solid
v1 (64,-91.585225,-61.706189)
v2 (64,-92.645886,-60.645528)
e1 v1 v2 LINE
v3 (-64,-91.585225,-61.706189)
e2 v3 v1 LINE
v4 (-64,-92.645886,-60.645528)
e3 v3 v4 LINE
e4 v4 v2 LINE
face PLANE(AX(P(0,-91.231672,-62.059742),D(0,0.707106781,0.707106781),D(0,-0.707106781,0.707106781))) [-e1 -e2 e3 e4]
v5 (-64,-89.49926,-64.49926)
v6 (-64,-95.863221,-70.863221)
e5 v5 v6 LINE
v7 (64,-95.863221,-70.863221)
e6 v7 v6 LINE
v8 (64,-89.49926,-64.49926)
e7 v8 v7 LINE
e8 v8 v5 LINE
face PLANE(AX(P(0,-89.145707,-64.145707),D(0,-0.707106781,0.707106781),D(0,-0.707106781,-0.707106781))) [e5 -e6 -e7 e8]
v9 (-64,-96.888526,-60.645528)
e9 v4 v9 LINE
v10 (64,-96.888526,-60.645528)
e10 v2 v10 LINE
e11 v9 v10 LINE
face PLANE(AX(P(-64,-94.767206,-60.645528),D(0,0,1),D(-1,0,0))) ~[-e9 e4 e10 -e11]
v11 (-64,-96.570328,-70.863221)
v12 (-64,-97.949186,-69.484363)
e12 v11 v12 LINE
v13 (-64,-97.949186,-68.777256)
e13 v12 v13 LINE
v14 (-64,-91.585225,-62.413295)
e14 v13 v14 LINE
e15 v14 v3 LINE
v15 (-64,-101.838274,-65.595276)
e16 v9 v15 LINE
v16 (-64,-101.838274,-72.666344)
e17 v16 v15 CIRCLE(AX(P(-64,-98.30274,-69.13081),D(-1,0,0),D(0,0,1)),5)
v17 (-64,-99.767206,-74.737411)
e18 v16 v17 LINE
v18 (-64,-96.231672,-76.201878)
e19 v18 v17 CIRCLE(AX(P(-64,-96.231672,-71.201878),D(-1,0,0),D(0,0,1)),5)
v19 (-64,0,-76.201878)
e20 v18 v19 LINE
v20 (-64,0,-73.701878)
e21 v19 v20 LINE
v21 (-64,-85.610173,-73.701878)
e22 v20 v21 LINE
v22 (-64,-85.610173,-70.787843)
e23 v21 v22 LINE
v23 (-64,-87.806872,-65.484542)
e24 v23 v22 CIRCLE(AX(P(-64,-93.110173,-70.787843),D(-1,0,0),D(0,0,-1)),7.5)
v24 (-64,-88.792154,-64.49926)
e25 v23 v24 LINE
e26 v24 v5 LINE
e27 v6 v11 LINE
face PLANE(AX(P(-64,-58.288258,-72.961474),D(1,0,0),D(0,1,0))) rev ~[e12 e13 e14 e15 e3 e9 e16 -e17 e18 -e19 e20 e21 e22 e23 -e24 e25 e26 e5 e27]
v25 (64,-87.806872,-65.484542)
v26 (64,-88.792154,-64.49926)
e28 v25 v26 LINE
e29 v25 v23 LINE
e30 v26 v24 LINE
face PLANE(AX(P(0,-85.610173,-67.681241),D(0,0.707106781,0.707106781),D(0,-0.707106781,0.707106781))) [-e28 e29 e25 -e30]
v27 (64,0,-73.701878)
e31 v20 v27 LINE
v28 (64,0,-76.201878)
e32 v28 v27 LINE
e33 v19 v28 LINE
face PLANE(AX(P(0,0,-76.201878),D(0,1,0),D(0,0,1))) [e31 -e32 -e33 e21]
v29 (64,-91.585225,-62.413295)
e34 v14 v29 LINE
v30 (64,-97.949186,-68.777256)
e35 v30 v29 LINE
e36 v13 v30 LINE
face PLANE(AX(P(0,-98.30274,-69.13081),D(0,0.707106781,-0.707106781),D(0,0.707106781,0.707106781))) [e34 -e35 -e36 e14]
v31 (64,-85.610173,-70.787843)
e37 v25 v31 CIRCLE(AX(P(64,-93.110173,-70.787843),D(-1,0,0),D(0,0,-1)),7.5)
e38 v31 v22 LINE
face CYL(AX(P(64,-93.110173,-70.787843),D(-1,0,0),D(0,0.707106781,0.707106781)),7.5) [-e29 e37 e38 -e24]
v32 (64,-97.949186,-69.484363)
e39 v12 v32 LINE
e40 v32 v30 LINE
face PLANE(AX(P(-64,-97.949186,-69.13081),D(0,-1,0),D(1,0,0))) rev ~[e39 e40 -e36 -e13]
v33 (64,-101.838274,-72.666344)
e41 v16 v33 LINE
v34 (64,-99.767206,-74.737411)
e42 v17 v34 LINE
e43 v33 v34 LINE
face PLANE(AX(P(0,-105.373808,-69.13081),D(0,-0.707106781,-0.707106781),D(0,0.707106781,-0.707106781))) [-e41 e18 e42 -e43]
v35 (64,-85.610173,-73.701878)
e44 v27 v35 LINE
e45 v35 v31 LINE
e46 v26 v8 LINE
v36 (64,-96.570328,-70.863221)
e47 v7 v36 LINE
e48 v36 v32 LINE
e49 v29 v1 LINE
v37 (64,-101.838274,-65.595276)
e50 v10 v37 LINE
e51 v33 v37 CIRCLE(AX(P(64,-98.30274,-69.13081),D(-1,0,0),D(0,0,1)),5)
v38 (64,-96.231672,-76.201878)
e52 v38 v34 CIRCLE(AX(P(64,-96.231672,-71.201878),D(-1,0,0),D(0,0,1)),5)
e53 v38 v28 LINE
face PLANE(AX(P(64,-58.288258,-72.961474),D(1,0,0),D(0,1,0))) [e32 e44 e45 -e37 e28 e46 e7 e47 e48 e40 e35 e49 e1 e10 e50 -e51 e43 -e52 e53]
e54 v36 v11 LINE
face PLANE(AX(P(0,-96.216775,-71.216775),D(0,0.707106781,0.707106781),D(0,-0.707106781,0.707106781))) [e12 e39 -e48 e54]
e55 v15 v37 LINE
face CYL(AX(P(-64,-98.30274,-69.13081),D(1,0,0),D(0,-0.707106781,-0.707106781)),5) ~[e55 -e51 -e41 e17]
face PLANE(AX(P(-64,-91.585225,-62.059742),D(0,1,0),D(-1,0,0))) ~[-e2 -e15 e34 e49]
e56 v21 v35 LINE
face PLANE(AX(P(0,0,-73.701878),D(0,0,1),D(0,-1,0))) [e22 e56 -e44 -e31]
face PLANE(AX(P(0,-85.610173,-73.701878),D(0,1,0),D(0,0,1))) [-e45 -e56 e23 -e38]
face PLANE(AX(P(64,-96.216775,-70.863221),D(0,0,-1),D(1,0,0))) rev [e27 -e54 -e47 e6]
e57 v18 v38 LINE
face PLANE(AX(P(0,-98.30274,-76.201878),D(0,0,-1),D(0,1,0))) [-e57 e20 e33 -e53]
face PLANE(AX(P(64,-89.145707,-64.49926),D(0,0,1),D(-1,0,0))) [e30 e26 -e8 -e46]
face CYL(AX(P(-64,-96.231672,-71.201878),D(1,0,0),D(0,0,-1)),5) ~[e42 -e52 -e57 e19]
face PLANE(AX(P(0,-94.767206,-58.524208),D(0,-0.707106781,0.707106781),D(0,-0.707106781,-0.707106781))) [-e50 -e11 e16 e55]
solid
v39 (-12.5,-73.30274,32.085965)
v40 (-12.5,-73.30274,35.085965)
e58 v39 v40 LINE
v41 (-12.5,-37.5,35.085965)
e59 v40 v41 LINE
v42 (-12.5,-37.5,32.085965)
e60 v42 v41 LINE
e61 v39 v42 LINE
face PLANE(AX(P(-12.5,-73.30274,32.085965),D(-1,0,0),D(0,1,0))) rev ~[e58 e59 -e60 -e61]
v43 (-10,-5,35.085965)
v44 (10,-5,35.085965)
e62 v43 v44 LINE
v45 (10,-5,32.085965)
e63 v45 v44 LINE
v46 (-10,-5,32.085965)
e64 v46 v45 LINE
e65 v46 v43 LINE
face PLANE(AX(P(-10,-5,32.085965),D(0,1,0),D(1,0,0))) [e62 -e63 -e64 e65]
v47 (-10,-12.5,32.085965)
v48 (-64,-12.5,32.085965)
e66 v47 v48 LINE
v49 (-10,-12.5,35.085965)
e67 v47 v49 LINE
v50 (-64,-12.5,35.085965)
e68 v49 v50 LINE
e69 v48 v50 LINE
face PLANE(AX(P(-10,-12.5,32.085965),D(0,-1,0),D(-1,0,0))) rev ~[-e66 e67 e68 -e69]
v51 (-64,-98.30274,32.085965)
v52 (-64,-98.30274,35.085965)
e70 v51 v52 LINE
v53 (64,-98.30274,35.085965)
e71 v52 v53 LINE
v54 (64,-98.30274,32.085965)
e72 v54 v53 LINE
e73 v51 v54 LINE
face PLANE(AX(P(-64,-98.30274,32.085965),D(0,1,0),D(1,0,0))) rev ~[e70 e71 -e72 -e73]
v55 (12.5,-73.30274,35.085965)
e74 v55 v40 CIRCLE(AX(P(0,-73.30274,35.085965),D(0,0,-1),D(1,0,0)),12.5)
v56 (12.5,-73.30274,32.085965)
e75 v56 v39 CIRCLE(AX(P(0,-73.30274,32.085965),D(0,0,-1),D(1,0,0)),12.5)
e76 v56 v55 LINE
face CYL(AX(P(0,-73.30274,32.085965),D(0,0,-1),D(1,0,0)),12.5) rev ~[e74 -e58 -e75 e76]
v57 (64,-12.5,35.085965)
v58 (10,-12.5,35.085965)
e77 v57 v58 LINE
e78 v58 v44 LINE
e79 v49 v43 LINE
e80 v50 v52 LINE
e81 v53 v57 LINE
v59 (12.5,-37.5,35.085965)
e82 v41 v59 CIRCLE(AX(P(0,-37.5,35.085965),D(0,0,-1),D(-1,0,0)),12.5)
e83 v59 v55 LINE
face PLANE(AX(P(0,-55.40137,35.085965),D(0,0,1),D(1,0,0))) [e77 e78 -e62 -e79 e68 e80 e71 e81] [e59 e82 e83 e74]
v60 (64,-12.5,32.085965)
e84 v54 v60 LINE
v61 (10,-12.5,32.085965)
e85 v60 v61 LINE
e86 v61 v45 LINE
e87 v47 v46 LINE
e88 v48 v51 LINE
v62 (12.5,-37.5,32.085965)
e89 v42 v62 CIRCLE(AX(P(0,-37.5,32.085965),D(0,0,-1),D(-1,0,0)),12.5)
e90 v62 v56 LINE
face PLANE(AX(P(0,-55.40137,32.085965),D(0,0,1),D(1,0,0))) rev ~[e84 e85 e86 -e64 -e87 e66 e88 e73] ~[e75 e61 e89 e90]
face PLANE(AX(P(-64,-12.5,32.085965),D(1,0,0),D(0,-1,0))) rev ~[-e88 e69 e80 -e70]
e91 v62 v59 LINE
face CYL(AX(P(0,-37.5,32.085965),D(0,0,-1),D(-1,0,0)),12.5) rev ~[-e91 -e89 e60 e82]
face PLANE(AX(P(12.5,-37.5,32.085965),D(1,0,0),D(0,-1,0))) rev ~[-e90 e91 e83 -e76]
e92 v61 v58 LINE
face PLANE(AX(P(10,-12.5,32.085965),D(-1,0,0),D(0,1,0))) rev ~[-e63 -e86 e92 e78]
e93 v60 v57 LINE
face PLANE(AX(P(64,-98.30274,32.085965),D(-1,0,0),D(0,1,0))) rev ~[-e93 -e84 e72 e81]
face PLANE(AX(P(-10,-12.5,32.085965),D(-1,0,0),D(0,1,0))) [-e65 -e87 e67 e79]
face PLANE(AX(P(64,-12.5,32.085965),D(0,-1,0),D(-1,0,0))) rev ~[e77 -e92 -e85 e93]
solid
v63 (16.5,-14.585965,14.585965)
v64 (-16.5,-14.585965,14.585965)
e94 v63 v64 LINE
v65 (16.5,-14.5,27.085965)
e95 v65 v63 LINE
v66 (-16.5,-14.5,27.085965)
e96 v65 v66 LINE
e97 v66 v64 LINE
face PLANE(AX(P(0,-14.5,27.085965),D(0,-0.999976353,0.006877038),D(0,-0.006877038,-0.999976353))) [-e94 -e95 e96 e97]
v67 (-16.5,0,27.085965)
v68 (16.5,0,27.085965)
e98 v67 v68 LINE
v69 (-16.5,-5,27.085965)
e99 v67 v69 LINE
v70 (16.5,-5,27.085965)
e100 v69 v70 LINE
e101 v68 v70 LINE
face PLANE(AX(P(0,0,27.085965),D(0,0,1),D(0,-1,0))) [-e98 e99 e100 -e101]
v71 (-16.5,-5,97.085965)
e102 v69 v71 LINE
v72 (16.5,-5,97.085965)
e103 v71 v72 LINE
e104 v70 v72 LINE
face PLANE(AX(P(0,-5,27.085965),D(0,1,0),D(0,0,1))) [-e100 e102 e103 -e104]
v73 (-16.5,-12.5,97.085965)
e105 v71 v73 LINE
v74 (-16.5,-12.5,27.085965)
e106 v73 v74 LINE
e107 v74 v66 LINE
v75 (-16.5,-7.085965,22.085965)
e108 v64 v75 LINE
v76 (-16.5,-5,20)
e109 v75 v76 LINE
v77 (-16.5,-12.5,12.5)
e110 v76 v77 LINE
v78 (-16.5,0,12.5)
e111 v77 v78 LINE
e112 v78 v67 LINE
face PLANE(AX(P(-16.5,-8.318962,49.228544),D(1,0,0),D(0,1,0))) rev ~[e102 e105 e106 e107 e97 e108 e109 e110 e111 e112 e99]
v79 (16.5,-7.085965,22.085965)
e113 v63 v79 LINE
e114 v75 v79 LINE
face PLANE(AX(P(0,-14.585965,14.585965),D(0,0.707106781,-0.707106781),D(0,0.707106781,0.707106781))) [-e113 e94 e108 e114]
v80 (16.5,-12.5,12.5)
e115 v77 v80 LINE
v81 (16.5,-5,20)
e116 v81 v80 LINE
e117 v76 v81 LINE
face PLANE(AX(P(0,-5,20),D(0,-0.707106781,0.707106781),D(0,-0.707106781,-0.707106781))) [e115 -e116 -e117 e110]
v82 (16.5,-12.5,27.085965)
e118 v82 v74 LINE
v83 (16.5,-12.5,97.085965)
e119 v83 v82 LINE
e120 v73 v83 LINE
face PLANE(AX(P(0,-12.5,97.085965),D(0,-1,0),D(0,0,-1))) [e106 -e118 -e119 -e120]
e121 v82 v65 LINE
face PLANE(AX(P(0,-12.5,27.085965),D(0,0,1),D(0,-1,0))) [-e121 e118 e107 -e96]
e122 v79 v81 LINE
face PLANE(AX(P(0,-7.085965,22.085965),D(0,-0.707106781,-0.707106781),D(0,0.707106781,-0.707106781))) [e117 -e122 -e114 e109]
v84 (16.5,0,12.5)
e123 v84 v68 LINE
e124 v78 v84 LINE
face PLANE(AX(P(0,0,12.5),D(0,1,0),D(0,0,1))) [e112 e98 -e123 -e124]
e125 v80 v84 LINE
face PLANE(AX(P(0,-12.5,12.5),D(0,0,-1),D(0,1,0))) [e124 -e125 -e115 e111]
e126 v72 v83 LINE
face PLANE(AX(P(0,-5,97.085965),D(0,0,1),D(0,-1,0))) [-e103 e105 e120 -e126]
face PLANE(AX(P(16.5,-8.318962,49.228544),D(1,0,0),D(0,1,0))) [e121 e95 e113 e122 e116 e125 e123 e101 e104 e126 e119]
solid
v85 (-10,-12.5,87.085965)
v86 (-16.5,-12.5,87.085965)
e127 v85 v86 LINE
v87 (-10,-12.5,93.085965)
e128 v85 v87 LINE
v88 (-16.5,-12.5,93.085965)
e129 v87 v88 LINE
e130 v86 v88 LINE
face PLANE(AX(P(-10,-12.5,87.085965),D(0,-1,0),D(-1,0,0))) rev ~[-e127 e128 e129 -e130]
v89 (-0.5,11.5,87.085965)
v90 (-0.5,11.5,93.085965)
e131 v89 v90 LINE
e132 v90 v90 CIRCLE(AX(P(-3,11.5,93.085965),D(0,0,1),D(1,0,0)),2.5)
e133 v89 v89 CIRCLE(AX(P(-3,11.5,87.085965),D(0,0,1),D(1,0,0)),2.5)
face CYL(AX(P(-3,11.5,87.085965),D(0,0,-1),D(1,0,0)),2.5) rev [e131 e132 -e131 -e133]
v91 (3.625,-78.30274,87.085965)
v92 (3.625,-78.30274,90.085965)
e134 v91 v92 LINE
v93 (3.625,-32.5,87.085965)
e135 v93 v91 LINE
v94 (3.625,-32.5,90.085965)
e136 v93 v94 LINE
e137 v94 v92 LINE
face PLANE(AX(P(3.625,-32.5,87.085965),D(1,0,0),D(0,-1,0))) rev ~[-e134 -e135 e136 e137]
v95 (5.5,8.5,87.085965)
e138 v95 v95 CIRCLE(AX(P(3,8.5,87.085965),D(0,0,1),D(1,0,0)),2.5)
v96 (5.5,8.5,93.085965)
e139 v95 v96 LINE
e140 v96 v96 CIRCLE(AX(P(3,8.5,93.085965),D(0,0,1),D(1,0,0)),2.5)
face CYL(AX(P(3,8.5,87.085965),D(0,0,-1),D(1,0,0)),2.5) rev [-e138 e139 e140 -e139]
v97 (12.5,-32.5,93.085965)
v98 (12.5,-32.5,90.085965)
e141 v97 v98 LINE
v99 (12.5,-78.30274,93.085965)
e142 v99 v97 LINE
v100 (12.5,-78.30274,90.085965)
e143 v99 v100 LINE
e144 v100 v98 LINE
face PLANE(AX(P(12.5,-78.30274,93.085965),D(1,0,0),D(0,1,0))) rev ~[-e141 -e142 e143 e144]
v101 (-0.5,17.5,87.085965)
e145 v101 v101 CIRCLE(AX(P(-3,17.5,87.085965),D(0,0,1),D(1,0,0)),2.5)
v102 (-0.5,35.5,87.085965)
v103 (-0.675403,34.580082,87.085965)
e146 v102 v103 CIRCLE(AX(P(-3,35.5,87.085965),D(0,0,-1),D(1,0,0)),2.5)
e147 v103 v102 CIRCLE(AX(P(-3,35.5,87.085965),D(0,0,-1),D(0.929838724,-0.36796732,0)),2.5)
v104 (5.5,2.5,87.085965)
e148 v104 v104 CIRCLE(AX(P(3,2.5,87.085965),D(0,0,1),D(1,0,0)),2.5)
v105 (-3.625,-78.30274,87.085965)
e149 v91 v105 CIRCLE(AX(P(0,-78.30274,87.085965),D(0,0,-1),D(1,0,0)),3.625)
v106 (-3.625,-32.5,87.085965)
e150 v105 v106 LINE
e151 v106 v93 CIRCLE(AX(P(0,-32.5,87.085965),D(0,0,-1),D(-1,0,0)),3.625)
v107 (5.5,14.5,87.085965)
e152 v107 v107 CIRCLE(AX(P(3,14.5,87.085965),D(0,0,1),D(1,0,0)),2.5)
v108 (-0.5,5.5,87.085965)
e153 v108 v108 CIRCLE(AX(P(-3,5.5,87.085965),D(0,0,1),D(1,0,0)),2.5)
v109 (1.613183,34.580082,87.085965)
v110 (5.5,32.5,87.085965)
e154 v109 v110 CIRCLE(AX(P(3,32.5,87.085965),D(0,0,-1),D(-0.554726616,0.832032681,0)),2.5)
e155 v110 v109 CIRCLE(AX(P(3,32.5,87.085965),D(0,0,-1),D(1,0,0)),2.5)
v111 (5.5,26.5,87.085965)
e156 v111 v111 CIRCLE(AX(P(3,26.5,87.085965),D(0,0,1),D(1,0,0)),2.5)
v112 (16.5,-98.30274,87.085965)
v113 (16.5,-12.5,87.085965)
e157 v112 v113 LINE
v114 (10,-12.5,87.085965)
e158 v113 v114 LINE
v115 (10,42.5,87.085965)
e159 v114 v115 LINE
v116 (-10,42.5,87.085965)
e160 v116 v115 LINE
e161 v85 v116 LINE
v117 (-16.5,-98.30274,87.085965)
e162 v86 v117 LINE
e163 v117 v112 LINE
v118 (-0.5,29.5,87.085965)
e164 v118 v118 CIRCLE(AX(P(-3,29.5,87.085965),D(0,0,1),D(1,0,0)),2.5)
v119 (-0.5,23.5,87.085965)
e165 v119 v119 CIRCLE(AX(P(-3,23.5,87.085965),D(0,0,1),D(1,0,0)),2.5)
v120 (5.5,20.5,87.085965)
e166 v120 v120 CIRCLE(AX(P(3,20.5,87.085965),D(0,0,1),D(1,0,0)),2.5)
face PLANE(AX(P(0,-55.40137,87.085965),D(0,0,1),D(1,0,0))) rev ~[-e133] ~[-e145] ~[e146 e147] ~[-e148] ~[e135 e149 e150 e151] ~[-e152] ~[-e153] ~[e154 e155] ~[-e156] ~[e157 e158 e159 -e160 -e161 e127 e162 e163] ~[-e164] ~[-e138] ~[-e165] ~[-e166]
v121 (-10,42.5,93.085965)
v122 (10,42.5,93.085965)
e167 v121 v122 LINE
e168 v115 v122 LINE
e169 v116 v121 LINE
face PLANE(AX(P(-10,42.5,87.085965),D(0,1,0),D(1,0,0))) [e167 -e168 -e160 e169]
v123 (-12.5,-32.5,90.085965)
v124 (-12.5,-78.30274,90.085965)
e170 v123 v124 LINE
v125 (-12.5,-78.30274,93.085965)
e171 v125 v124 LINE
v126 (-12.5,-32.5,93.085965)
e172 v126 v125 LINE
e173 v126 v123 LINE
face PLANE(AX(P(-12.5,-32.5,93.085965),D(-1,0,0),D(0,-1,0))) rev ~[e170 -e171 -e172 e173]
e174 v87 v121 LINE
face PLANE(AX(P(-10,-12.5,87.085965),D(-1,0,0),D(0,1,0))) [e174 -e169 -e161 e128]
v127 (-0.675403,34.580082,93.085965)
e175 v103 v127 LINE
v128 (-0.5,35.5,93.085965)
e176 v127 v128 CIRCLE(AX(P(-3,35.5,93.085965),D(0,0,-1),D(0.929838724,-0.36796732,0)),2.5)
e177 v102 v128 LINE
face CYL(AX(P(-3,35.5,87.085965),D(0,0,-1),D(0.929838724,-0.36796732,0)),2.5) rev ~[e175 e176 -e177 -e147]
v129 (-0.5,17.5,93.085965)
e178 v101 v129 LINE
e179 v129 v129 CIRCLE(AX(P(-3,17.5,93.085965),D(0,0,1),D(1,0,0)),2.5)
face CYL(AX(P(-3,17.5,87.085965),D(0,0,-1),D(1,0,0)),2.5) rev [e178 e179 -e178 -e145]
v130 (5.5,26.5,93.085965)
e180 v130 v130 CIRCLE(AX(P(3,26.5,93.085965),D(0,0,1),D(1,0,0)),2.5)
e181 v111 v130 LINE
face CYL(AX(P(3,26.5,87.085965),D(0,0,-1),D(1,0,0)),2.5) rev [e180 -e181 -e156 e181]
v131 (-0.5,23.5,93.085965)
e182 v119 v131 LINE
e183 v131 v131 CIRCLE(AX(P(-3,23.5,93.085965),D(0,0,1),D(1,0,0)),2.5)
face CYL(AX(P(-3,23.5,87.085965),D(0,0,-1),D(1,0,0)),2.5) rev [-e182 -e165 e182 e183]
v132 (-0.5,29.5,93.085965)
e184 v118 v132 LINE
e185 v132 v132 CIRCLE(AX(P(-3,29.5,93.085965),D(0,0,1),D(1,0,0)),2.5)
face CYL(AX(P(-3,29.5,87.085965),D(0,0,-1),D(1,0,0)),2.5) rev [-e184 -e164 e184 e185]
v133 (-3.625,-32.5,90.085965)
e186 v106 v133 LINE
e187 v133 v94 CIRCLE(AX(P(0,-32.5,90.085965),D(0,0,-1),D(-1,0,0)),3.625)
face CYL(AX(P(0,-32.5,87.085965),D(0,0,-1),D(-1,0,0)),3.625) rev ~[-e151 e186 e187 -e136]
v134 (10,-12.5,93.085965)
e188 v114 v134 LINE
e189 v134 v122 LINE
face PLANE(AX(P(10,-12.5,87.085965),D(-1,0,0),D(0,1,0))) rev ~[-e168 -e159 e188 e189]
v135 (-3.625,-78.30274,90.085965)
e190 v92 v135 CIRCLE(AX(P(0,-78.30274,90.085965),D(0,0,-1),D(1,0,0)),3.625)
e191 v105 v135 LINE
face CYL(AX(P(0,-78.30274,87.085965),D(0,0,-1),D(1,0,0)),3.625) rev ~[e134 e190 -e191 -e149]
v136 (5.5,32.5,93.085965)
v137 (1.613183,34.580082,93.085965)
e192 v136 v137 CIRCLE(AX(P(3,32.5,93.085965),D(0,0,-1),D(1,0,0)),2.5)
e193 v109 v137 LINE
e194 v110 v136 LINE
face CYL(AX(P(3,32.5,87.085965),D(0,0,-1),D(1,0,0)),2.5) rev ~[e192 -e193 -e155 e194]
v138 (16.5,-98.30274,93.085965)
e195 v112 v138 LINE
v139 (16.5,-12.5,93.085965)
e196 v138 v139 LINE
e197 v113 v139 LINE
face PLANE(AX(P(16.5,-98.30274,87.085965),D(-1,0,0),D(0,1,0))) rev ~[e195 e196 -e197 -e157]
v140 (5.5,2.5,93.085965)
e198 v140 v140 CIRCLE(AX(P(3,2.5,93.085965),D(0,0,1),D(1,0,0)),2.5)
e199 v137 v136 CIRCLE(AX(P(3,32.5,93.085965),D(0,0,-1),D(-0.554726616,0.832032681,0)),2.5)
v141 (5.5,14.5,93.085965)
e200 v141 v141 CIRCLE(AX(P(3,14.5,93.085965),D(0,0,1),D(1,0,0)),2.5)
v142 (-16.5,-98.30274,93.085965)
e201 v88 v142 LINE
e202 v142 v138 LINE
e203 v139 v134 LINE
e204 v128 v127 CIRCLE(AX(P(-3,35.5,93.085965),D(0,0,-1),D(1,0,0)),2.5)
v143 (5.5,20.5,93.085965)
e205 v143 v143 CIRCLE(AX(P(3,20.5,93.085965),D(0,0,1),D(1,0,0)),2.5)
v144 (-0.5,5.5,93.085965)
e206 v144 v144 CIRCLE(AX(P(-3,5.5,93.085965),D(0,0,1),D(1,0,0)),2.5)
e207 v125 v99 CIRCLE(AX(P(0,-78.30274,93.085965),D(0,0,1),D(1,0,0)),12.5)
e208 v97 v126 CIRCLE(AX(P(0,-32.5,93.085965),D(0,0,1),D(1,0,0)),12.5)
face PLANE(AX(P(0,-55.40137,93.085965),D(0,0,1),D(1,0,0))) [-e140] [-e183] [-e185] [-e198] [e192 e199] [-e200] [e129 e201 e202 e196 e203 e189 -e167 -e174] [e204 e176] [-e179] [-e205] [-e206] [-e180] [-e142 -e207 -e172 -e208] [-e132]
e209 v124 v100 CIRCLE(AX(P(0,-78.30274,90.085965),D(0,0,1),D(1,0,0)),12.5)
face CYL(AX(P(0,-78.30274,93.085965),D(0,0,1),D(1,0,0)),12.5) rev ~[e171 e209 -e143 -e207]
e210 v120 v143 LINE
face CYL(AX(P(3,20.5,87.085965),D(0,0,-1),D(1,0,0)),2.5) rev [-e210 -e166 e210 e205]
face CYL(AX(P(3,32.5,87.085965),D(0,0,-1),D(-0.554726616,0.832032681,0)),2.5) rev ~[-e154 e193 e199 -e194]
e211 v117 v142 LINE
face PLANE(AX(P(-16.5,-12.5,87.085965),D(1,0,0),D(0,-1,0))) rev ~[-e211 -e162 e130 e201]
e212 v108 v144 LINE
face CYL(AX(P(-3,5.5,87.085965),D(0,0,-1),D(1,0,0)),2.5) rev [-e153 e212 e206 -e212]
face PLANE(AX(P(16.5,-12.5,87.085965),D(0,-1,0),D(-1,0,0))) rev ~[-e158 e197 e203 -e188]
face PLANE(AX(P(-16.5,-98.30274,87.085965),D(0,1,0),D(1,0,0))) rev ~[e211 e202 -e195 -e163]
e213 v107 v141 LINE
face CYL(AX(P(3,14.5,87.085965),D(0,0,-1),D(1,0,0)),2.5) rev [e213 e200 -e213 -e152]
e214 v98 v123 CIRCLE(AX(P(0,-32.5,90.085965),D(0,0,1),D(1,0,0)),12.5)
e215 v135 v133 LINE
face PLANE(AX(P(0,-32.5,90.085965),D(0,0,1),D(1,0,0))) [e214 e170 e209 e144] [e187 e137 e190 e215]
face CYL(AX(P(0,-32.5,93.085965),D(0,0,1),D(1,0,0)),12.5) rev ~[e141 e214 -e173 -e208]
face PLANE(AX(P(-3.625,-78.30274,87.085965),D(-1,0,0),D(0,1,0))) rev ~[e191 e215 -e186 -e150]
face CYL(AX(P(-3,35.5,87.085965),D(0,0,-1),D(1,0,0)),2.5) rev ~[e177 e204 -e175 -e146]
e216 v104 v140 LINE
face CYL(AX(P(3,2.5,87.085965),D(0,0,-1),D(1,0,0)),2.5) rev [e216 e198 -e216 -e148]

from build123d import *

# Parameters (mm, degrees)
F3_DEPTH  = 64
F4_R      = 5
F5_R      = 7.5
F6_SIZE   = 0.5
F7_SIZE   = 3
F8_DEPTH  = 16.5
F11_W     = 20
F11_H     = 7.5
F12_DEPTH = 3
F14_W     = 20
F14_H     = 55
F14_R     = 2.5
F15_DEPTH = 6
F17_DEPTH = 3


with BuildPart() as f3:
    # F2 (on Right) → F3 (new body, symmetric)
    with BuildSketch(Plane.YZ):
        Polygon((-96.2167747731, -71.2167747731), (-98.3027397776, -69.1308097686), (-91.2316719657, -62.0597419567), (-94.7672058716, -58.5242080508), (-105.3738075894, -69.1308097686), (-98.3027397776, -76.2018775804), (0, -76.2018775804), (0, -73.7018775804), (-85.6101730553, -73.7018775804), (-85.6101730553, -67.6812408671), (-89.1457069612, -64.1457069612), align=None)
    extrude(amount=F3_DEPTH, both=True)

    # F4
    f4_edges = [f3.edges().sort_by_distance(p)[0] for p in [
        (0, -105.373808, -69.13081),
        (0, -98.30274, -76.201878),
    ]]
    fillet(f4_edges, radius=F4_R)

    # F5
    f5_edges = [f3.edges().sort_by_distance(p)[0] for p in [
        (0, -85.610173, -67.681241),
    ]]
    fillet(f5_edges, radius=F5_R)

    # F6
    f6_edges = [f3.edges().sort_by_distance(p)[0] for p in [
        (0, -98.30274, -69.13081),
        (0, -96.216775, -71.216775),
        (0, -89.145707, -64.145707),
        (0, -91.231672, -62.059742),
    ]]
    chamfer(f6_edges, length=F6_SIZE)

    # F7
    f7_edges = [f3.edges().sort_by_distance(p)[0] for p in [
        (0, -94.767206, -58.524208),
    ]]
    chamfer(f7_edges, length=F7_SIZE)


with BuildPart() as f8:
    # F2 (on Right) → F8 (new body, symmetric)
    with BuildSketch(Plane.YZ):
        Polygon((-14.5859650045, 14.5859650045), (-7.0859650045, 22.0859650045), (-5, 20), (-12.5, 12.5), (0, 12.5), (0, 27.0859650045), (-5, 27.0859650045), (-5, 97.0859650045), (-12.5, 97.0859650045), (-12.5, 27.0859650045), (-14.5, 27.0859650045), align=None)
    extrude(amount=F8_DEPTH, both=True)


with BuildPart() as f12:
    # F11 (on offset) → F12 (new body)
    with BuildSketch(Plane.XY.offset(32.0859650045)):
        Polygon((-64, -98.3027397776), (64, -98.3027397776), (64, -12.5), (10, -12.5), (-10, -12.5), (-64, -12.5), align=None)
        with BuildLine():
            ThreePointArc((-12.5, -37.5), (0, -25), (12.5, -37.5))
            Line((12.5, -37.5), (12.5, -73.3027397776))
            ThreePointArc((12.5, -73.3027397776), (0, -85.8027397776), (-12.5, -73.3027397776))
            Line((-12.5, -73.3027397776), (-12.5, -37.5))
        make_face(mode=Mode.SUBTRACT)
        with Locations((0, -8.75)):
            Rectangle(F11_W, F11_H)
    extrude(amount=F12_DEPTH)


with BuildPart() as f15:
    # F14 (on offset) → F15 (new body)
    with BuildSketch(Plane.XY.offset(87.0859650045)):
        Polygon((-16.5, -98.3027397776), (16.5, -98.3027397776), (16.5, -12.5), (10, -12.5), (-10, -12.5), (-16.5, -12.5), align=None)
        with BuildLine():
            ThreePointArc((-3.625, -32.5), (0, -28.875), (3.625, -32.5))
            Line((3.625, -32.5), (3.625, -78.3027397776))
            ThreePointArc((3.625, -78.3027397776), (0, -81.9277397776), (-3.625, -78.3027397776))
            Line((-3.625, -78.3027397776), (-3.625, -32.5))
        make_face(mode=Mode.SUBTRACT)
        with Locations((0, 15)):
            Rectangle(F14_W, F14_H)
        with Locations((-3, 5.5)):
            Circle(F14_R, mode=Mode.SUBTRACT)
        with Locations((-3, 11.5)):
            Circle(F14_R, mode=Mode.SUBTRACT)
        with Locations((-3, 17.5)):
            Circle(F14_R, mode=Mode.SUBTRACT)
        with Locations((-3, 23.5)):
            Circle(F14_R, mode=Mode.SUBTRACT)
        with Locations((-3, 29.5)):
            Circle(F14_R, mode=Mode.SUBTRACT)
        with BuildLine():
            ThreePointArc((-0.5, 35.5), (-0.5442422735, 35.0317543498), (-0.6754031912, 34.5800817013))
            ThreePointArc((-0.6754031912, 34.5800817013), (-5.4557577265, 35.9682456502), (-0.5, 35.5))
        make_face(mode=Mode.SUBTRACT)
        with Locations((3, 2.5)):
            Circle(F14_R, mode=Mode.SUBTRACT)
        with Locations((3, 8.5)):
            Circle(F14_R, mode=Mode.SUBTRACT)
        with Locations((3, 14.5)):
            Circle(F14_R, mode=Mode.SUBTRACT)
        with Locations((3, 20.5)):
            Circle(F14_R, mode=Mode.SUBTRACT)
        with Locations((3, 26.5)):
            Circle(F14_R, mode=Mode.SUBTRACT)
        with BuildLine():
            ThreePointArc((5.5, 32.5), (1.8203901811, 30.2957947747), (1.6131834599, 34.5800817013))
            ThreePointArc((1.6131834599, 34.5800817013), (4.1796098189, 34.7042052253), (5.5, 32.5))
        make_face(mode=Mode.SUBTRACT)
    extrude(amount=F15_DEPTH)

    # F16 (on face) → F17 (cut)
    with BuildSketch(Plane.XY.offset(93.0859650045)):
        with BuildLine():
            ThreePointArc((-12.5, -32.5), (0, -45), (12.5, -32.5))
            ThreePointArc((12.5, -32.5), (0, -20), (-12.5, -32.5))
        make_face()
        with BuildLine():
            Line((12.5, -78.3027397776), (12.5, -32.5))
            ThreePointArc((12.5, -32.5), (0, -45), (-12.5, -32.5))
            Line((-12.5, -32.5), (-12.5, -78.3027397776))
            ThreePointArc((-12.5, -78.3027397776), (0, -65.8027397776), (12.5, -78.3027397776))
        make_face()
        with BuildLine():
            ThreePointArc((-12.5, -78.3027397776), (0, -90.8027397776), (12.5, -78.3027397776))
            ThreePointArc((12.5, -78.3027397776), (0, -65.8027397776), (-12.5, -78.3027397776))
        make_face()
    extrude(amount=-F17_DEPTH, mode=Mode.SUBTRACT)


solid = Compound([f3.part, f8.part, f12.part, f15.part])
